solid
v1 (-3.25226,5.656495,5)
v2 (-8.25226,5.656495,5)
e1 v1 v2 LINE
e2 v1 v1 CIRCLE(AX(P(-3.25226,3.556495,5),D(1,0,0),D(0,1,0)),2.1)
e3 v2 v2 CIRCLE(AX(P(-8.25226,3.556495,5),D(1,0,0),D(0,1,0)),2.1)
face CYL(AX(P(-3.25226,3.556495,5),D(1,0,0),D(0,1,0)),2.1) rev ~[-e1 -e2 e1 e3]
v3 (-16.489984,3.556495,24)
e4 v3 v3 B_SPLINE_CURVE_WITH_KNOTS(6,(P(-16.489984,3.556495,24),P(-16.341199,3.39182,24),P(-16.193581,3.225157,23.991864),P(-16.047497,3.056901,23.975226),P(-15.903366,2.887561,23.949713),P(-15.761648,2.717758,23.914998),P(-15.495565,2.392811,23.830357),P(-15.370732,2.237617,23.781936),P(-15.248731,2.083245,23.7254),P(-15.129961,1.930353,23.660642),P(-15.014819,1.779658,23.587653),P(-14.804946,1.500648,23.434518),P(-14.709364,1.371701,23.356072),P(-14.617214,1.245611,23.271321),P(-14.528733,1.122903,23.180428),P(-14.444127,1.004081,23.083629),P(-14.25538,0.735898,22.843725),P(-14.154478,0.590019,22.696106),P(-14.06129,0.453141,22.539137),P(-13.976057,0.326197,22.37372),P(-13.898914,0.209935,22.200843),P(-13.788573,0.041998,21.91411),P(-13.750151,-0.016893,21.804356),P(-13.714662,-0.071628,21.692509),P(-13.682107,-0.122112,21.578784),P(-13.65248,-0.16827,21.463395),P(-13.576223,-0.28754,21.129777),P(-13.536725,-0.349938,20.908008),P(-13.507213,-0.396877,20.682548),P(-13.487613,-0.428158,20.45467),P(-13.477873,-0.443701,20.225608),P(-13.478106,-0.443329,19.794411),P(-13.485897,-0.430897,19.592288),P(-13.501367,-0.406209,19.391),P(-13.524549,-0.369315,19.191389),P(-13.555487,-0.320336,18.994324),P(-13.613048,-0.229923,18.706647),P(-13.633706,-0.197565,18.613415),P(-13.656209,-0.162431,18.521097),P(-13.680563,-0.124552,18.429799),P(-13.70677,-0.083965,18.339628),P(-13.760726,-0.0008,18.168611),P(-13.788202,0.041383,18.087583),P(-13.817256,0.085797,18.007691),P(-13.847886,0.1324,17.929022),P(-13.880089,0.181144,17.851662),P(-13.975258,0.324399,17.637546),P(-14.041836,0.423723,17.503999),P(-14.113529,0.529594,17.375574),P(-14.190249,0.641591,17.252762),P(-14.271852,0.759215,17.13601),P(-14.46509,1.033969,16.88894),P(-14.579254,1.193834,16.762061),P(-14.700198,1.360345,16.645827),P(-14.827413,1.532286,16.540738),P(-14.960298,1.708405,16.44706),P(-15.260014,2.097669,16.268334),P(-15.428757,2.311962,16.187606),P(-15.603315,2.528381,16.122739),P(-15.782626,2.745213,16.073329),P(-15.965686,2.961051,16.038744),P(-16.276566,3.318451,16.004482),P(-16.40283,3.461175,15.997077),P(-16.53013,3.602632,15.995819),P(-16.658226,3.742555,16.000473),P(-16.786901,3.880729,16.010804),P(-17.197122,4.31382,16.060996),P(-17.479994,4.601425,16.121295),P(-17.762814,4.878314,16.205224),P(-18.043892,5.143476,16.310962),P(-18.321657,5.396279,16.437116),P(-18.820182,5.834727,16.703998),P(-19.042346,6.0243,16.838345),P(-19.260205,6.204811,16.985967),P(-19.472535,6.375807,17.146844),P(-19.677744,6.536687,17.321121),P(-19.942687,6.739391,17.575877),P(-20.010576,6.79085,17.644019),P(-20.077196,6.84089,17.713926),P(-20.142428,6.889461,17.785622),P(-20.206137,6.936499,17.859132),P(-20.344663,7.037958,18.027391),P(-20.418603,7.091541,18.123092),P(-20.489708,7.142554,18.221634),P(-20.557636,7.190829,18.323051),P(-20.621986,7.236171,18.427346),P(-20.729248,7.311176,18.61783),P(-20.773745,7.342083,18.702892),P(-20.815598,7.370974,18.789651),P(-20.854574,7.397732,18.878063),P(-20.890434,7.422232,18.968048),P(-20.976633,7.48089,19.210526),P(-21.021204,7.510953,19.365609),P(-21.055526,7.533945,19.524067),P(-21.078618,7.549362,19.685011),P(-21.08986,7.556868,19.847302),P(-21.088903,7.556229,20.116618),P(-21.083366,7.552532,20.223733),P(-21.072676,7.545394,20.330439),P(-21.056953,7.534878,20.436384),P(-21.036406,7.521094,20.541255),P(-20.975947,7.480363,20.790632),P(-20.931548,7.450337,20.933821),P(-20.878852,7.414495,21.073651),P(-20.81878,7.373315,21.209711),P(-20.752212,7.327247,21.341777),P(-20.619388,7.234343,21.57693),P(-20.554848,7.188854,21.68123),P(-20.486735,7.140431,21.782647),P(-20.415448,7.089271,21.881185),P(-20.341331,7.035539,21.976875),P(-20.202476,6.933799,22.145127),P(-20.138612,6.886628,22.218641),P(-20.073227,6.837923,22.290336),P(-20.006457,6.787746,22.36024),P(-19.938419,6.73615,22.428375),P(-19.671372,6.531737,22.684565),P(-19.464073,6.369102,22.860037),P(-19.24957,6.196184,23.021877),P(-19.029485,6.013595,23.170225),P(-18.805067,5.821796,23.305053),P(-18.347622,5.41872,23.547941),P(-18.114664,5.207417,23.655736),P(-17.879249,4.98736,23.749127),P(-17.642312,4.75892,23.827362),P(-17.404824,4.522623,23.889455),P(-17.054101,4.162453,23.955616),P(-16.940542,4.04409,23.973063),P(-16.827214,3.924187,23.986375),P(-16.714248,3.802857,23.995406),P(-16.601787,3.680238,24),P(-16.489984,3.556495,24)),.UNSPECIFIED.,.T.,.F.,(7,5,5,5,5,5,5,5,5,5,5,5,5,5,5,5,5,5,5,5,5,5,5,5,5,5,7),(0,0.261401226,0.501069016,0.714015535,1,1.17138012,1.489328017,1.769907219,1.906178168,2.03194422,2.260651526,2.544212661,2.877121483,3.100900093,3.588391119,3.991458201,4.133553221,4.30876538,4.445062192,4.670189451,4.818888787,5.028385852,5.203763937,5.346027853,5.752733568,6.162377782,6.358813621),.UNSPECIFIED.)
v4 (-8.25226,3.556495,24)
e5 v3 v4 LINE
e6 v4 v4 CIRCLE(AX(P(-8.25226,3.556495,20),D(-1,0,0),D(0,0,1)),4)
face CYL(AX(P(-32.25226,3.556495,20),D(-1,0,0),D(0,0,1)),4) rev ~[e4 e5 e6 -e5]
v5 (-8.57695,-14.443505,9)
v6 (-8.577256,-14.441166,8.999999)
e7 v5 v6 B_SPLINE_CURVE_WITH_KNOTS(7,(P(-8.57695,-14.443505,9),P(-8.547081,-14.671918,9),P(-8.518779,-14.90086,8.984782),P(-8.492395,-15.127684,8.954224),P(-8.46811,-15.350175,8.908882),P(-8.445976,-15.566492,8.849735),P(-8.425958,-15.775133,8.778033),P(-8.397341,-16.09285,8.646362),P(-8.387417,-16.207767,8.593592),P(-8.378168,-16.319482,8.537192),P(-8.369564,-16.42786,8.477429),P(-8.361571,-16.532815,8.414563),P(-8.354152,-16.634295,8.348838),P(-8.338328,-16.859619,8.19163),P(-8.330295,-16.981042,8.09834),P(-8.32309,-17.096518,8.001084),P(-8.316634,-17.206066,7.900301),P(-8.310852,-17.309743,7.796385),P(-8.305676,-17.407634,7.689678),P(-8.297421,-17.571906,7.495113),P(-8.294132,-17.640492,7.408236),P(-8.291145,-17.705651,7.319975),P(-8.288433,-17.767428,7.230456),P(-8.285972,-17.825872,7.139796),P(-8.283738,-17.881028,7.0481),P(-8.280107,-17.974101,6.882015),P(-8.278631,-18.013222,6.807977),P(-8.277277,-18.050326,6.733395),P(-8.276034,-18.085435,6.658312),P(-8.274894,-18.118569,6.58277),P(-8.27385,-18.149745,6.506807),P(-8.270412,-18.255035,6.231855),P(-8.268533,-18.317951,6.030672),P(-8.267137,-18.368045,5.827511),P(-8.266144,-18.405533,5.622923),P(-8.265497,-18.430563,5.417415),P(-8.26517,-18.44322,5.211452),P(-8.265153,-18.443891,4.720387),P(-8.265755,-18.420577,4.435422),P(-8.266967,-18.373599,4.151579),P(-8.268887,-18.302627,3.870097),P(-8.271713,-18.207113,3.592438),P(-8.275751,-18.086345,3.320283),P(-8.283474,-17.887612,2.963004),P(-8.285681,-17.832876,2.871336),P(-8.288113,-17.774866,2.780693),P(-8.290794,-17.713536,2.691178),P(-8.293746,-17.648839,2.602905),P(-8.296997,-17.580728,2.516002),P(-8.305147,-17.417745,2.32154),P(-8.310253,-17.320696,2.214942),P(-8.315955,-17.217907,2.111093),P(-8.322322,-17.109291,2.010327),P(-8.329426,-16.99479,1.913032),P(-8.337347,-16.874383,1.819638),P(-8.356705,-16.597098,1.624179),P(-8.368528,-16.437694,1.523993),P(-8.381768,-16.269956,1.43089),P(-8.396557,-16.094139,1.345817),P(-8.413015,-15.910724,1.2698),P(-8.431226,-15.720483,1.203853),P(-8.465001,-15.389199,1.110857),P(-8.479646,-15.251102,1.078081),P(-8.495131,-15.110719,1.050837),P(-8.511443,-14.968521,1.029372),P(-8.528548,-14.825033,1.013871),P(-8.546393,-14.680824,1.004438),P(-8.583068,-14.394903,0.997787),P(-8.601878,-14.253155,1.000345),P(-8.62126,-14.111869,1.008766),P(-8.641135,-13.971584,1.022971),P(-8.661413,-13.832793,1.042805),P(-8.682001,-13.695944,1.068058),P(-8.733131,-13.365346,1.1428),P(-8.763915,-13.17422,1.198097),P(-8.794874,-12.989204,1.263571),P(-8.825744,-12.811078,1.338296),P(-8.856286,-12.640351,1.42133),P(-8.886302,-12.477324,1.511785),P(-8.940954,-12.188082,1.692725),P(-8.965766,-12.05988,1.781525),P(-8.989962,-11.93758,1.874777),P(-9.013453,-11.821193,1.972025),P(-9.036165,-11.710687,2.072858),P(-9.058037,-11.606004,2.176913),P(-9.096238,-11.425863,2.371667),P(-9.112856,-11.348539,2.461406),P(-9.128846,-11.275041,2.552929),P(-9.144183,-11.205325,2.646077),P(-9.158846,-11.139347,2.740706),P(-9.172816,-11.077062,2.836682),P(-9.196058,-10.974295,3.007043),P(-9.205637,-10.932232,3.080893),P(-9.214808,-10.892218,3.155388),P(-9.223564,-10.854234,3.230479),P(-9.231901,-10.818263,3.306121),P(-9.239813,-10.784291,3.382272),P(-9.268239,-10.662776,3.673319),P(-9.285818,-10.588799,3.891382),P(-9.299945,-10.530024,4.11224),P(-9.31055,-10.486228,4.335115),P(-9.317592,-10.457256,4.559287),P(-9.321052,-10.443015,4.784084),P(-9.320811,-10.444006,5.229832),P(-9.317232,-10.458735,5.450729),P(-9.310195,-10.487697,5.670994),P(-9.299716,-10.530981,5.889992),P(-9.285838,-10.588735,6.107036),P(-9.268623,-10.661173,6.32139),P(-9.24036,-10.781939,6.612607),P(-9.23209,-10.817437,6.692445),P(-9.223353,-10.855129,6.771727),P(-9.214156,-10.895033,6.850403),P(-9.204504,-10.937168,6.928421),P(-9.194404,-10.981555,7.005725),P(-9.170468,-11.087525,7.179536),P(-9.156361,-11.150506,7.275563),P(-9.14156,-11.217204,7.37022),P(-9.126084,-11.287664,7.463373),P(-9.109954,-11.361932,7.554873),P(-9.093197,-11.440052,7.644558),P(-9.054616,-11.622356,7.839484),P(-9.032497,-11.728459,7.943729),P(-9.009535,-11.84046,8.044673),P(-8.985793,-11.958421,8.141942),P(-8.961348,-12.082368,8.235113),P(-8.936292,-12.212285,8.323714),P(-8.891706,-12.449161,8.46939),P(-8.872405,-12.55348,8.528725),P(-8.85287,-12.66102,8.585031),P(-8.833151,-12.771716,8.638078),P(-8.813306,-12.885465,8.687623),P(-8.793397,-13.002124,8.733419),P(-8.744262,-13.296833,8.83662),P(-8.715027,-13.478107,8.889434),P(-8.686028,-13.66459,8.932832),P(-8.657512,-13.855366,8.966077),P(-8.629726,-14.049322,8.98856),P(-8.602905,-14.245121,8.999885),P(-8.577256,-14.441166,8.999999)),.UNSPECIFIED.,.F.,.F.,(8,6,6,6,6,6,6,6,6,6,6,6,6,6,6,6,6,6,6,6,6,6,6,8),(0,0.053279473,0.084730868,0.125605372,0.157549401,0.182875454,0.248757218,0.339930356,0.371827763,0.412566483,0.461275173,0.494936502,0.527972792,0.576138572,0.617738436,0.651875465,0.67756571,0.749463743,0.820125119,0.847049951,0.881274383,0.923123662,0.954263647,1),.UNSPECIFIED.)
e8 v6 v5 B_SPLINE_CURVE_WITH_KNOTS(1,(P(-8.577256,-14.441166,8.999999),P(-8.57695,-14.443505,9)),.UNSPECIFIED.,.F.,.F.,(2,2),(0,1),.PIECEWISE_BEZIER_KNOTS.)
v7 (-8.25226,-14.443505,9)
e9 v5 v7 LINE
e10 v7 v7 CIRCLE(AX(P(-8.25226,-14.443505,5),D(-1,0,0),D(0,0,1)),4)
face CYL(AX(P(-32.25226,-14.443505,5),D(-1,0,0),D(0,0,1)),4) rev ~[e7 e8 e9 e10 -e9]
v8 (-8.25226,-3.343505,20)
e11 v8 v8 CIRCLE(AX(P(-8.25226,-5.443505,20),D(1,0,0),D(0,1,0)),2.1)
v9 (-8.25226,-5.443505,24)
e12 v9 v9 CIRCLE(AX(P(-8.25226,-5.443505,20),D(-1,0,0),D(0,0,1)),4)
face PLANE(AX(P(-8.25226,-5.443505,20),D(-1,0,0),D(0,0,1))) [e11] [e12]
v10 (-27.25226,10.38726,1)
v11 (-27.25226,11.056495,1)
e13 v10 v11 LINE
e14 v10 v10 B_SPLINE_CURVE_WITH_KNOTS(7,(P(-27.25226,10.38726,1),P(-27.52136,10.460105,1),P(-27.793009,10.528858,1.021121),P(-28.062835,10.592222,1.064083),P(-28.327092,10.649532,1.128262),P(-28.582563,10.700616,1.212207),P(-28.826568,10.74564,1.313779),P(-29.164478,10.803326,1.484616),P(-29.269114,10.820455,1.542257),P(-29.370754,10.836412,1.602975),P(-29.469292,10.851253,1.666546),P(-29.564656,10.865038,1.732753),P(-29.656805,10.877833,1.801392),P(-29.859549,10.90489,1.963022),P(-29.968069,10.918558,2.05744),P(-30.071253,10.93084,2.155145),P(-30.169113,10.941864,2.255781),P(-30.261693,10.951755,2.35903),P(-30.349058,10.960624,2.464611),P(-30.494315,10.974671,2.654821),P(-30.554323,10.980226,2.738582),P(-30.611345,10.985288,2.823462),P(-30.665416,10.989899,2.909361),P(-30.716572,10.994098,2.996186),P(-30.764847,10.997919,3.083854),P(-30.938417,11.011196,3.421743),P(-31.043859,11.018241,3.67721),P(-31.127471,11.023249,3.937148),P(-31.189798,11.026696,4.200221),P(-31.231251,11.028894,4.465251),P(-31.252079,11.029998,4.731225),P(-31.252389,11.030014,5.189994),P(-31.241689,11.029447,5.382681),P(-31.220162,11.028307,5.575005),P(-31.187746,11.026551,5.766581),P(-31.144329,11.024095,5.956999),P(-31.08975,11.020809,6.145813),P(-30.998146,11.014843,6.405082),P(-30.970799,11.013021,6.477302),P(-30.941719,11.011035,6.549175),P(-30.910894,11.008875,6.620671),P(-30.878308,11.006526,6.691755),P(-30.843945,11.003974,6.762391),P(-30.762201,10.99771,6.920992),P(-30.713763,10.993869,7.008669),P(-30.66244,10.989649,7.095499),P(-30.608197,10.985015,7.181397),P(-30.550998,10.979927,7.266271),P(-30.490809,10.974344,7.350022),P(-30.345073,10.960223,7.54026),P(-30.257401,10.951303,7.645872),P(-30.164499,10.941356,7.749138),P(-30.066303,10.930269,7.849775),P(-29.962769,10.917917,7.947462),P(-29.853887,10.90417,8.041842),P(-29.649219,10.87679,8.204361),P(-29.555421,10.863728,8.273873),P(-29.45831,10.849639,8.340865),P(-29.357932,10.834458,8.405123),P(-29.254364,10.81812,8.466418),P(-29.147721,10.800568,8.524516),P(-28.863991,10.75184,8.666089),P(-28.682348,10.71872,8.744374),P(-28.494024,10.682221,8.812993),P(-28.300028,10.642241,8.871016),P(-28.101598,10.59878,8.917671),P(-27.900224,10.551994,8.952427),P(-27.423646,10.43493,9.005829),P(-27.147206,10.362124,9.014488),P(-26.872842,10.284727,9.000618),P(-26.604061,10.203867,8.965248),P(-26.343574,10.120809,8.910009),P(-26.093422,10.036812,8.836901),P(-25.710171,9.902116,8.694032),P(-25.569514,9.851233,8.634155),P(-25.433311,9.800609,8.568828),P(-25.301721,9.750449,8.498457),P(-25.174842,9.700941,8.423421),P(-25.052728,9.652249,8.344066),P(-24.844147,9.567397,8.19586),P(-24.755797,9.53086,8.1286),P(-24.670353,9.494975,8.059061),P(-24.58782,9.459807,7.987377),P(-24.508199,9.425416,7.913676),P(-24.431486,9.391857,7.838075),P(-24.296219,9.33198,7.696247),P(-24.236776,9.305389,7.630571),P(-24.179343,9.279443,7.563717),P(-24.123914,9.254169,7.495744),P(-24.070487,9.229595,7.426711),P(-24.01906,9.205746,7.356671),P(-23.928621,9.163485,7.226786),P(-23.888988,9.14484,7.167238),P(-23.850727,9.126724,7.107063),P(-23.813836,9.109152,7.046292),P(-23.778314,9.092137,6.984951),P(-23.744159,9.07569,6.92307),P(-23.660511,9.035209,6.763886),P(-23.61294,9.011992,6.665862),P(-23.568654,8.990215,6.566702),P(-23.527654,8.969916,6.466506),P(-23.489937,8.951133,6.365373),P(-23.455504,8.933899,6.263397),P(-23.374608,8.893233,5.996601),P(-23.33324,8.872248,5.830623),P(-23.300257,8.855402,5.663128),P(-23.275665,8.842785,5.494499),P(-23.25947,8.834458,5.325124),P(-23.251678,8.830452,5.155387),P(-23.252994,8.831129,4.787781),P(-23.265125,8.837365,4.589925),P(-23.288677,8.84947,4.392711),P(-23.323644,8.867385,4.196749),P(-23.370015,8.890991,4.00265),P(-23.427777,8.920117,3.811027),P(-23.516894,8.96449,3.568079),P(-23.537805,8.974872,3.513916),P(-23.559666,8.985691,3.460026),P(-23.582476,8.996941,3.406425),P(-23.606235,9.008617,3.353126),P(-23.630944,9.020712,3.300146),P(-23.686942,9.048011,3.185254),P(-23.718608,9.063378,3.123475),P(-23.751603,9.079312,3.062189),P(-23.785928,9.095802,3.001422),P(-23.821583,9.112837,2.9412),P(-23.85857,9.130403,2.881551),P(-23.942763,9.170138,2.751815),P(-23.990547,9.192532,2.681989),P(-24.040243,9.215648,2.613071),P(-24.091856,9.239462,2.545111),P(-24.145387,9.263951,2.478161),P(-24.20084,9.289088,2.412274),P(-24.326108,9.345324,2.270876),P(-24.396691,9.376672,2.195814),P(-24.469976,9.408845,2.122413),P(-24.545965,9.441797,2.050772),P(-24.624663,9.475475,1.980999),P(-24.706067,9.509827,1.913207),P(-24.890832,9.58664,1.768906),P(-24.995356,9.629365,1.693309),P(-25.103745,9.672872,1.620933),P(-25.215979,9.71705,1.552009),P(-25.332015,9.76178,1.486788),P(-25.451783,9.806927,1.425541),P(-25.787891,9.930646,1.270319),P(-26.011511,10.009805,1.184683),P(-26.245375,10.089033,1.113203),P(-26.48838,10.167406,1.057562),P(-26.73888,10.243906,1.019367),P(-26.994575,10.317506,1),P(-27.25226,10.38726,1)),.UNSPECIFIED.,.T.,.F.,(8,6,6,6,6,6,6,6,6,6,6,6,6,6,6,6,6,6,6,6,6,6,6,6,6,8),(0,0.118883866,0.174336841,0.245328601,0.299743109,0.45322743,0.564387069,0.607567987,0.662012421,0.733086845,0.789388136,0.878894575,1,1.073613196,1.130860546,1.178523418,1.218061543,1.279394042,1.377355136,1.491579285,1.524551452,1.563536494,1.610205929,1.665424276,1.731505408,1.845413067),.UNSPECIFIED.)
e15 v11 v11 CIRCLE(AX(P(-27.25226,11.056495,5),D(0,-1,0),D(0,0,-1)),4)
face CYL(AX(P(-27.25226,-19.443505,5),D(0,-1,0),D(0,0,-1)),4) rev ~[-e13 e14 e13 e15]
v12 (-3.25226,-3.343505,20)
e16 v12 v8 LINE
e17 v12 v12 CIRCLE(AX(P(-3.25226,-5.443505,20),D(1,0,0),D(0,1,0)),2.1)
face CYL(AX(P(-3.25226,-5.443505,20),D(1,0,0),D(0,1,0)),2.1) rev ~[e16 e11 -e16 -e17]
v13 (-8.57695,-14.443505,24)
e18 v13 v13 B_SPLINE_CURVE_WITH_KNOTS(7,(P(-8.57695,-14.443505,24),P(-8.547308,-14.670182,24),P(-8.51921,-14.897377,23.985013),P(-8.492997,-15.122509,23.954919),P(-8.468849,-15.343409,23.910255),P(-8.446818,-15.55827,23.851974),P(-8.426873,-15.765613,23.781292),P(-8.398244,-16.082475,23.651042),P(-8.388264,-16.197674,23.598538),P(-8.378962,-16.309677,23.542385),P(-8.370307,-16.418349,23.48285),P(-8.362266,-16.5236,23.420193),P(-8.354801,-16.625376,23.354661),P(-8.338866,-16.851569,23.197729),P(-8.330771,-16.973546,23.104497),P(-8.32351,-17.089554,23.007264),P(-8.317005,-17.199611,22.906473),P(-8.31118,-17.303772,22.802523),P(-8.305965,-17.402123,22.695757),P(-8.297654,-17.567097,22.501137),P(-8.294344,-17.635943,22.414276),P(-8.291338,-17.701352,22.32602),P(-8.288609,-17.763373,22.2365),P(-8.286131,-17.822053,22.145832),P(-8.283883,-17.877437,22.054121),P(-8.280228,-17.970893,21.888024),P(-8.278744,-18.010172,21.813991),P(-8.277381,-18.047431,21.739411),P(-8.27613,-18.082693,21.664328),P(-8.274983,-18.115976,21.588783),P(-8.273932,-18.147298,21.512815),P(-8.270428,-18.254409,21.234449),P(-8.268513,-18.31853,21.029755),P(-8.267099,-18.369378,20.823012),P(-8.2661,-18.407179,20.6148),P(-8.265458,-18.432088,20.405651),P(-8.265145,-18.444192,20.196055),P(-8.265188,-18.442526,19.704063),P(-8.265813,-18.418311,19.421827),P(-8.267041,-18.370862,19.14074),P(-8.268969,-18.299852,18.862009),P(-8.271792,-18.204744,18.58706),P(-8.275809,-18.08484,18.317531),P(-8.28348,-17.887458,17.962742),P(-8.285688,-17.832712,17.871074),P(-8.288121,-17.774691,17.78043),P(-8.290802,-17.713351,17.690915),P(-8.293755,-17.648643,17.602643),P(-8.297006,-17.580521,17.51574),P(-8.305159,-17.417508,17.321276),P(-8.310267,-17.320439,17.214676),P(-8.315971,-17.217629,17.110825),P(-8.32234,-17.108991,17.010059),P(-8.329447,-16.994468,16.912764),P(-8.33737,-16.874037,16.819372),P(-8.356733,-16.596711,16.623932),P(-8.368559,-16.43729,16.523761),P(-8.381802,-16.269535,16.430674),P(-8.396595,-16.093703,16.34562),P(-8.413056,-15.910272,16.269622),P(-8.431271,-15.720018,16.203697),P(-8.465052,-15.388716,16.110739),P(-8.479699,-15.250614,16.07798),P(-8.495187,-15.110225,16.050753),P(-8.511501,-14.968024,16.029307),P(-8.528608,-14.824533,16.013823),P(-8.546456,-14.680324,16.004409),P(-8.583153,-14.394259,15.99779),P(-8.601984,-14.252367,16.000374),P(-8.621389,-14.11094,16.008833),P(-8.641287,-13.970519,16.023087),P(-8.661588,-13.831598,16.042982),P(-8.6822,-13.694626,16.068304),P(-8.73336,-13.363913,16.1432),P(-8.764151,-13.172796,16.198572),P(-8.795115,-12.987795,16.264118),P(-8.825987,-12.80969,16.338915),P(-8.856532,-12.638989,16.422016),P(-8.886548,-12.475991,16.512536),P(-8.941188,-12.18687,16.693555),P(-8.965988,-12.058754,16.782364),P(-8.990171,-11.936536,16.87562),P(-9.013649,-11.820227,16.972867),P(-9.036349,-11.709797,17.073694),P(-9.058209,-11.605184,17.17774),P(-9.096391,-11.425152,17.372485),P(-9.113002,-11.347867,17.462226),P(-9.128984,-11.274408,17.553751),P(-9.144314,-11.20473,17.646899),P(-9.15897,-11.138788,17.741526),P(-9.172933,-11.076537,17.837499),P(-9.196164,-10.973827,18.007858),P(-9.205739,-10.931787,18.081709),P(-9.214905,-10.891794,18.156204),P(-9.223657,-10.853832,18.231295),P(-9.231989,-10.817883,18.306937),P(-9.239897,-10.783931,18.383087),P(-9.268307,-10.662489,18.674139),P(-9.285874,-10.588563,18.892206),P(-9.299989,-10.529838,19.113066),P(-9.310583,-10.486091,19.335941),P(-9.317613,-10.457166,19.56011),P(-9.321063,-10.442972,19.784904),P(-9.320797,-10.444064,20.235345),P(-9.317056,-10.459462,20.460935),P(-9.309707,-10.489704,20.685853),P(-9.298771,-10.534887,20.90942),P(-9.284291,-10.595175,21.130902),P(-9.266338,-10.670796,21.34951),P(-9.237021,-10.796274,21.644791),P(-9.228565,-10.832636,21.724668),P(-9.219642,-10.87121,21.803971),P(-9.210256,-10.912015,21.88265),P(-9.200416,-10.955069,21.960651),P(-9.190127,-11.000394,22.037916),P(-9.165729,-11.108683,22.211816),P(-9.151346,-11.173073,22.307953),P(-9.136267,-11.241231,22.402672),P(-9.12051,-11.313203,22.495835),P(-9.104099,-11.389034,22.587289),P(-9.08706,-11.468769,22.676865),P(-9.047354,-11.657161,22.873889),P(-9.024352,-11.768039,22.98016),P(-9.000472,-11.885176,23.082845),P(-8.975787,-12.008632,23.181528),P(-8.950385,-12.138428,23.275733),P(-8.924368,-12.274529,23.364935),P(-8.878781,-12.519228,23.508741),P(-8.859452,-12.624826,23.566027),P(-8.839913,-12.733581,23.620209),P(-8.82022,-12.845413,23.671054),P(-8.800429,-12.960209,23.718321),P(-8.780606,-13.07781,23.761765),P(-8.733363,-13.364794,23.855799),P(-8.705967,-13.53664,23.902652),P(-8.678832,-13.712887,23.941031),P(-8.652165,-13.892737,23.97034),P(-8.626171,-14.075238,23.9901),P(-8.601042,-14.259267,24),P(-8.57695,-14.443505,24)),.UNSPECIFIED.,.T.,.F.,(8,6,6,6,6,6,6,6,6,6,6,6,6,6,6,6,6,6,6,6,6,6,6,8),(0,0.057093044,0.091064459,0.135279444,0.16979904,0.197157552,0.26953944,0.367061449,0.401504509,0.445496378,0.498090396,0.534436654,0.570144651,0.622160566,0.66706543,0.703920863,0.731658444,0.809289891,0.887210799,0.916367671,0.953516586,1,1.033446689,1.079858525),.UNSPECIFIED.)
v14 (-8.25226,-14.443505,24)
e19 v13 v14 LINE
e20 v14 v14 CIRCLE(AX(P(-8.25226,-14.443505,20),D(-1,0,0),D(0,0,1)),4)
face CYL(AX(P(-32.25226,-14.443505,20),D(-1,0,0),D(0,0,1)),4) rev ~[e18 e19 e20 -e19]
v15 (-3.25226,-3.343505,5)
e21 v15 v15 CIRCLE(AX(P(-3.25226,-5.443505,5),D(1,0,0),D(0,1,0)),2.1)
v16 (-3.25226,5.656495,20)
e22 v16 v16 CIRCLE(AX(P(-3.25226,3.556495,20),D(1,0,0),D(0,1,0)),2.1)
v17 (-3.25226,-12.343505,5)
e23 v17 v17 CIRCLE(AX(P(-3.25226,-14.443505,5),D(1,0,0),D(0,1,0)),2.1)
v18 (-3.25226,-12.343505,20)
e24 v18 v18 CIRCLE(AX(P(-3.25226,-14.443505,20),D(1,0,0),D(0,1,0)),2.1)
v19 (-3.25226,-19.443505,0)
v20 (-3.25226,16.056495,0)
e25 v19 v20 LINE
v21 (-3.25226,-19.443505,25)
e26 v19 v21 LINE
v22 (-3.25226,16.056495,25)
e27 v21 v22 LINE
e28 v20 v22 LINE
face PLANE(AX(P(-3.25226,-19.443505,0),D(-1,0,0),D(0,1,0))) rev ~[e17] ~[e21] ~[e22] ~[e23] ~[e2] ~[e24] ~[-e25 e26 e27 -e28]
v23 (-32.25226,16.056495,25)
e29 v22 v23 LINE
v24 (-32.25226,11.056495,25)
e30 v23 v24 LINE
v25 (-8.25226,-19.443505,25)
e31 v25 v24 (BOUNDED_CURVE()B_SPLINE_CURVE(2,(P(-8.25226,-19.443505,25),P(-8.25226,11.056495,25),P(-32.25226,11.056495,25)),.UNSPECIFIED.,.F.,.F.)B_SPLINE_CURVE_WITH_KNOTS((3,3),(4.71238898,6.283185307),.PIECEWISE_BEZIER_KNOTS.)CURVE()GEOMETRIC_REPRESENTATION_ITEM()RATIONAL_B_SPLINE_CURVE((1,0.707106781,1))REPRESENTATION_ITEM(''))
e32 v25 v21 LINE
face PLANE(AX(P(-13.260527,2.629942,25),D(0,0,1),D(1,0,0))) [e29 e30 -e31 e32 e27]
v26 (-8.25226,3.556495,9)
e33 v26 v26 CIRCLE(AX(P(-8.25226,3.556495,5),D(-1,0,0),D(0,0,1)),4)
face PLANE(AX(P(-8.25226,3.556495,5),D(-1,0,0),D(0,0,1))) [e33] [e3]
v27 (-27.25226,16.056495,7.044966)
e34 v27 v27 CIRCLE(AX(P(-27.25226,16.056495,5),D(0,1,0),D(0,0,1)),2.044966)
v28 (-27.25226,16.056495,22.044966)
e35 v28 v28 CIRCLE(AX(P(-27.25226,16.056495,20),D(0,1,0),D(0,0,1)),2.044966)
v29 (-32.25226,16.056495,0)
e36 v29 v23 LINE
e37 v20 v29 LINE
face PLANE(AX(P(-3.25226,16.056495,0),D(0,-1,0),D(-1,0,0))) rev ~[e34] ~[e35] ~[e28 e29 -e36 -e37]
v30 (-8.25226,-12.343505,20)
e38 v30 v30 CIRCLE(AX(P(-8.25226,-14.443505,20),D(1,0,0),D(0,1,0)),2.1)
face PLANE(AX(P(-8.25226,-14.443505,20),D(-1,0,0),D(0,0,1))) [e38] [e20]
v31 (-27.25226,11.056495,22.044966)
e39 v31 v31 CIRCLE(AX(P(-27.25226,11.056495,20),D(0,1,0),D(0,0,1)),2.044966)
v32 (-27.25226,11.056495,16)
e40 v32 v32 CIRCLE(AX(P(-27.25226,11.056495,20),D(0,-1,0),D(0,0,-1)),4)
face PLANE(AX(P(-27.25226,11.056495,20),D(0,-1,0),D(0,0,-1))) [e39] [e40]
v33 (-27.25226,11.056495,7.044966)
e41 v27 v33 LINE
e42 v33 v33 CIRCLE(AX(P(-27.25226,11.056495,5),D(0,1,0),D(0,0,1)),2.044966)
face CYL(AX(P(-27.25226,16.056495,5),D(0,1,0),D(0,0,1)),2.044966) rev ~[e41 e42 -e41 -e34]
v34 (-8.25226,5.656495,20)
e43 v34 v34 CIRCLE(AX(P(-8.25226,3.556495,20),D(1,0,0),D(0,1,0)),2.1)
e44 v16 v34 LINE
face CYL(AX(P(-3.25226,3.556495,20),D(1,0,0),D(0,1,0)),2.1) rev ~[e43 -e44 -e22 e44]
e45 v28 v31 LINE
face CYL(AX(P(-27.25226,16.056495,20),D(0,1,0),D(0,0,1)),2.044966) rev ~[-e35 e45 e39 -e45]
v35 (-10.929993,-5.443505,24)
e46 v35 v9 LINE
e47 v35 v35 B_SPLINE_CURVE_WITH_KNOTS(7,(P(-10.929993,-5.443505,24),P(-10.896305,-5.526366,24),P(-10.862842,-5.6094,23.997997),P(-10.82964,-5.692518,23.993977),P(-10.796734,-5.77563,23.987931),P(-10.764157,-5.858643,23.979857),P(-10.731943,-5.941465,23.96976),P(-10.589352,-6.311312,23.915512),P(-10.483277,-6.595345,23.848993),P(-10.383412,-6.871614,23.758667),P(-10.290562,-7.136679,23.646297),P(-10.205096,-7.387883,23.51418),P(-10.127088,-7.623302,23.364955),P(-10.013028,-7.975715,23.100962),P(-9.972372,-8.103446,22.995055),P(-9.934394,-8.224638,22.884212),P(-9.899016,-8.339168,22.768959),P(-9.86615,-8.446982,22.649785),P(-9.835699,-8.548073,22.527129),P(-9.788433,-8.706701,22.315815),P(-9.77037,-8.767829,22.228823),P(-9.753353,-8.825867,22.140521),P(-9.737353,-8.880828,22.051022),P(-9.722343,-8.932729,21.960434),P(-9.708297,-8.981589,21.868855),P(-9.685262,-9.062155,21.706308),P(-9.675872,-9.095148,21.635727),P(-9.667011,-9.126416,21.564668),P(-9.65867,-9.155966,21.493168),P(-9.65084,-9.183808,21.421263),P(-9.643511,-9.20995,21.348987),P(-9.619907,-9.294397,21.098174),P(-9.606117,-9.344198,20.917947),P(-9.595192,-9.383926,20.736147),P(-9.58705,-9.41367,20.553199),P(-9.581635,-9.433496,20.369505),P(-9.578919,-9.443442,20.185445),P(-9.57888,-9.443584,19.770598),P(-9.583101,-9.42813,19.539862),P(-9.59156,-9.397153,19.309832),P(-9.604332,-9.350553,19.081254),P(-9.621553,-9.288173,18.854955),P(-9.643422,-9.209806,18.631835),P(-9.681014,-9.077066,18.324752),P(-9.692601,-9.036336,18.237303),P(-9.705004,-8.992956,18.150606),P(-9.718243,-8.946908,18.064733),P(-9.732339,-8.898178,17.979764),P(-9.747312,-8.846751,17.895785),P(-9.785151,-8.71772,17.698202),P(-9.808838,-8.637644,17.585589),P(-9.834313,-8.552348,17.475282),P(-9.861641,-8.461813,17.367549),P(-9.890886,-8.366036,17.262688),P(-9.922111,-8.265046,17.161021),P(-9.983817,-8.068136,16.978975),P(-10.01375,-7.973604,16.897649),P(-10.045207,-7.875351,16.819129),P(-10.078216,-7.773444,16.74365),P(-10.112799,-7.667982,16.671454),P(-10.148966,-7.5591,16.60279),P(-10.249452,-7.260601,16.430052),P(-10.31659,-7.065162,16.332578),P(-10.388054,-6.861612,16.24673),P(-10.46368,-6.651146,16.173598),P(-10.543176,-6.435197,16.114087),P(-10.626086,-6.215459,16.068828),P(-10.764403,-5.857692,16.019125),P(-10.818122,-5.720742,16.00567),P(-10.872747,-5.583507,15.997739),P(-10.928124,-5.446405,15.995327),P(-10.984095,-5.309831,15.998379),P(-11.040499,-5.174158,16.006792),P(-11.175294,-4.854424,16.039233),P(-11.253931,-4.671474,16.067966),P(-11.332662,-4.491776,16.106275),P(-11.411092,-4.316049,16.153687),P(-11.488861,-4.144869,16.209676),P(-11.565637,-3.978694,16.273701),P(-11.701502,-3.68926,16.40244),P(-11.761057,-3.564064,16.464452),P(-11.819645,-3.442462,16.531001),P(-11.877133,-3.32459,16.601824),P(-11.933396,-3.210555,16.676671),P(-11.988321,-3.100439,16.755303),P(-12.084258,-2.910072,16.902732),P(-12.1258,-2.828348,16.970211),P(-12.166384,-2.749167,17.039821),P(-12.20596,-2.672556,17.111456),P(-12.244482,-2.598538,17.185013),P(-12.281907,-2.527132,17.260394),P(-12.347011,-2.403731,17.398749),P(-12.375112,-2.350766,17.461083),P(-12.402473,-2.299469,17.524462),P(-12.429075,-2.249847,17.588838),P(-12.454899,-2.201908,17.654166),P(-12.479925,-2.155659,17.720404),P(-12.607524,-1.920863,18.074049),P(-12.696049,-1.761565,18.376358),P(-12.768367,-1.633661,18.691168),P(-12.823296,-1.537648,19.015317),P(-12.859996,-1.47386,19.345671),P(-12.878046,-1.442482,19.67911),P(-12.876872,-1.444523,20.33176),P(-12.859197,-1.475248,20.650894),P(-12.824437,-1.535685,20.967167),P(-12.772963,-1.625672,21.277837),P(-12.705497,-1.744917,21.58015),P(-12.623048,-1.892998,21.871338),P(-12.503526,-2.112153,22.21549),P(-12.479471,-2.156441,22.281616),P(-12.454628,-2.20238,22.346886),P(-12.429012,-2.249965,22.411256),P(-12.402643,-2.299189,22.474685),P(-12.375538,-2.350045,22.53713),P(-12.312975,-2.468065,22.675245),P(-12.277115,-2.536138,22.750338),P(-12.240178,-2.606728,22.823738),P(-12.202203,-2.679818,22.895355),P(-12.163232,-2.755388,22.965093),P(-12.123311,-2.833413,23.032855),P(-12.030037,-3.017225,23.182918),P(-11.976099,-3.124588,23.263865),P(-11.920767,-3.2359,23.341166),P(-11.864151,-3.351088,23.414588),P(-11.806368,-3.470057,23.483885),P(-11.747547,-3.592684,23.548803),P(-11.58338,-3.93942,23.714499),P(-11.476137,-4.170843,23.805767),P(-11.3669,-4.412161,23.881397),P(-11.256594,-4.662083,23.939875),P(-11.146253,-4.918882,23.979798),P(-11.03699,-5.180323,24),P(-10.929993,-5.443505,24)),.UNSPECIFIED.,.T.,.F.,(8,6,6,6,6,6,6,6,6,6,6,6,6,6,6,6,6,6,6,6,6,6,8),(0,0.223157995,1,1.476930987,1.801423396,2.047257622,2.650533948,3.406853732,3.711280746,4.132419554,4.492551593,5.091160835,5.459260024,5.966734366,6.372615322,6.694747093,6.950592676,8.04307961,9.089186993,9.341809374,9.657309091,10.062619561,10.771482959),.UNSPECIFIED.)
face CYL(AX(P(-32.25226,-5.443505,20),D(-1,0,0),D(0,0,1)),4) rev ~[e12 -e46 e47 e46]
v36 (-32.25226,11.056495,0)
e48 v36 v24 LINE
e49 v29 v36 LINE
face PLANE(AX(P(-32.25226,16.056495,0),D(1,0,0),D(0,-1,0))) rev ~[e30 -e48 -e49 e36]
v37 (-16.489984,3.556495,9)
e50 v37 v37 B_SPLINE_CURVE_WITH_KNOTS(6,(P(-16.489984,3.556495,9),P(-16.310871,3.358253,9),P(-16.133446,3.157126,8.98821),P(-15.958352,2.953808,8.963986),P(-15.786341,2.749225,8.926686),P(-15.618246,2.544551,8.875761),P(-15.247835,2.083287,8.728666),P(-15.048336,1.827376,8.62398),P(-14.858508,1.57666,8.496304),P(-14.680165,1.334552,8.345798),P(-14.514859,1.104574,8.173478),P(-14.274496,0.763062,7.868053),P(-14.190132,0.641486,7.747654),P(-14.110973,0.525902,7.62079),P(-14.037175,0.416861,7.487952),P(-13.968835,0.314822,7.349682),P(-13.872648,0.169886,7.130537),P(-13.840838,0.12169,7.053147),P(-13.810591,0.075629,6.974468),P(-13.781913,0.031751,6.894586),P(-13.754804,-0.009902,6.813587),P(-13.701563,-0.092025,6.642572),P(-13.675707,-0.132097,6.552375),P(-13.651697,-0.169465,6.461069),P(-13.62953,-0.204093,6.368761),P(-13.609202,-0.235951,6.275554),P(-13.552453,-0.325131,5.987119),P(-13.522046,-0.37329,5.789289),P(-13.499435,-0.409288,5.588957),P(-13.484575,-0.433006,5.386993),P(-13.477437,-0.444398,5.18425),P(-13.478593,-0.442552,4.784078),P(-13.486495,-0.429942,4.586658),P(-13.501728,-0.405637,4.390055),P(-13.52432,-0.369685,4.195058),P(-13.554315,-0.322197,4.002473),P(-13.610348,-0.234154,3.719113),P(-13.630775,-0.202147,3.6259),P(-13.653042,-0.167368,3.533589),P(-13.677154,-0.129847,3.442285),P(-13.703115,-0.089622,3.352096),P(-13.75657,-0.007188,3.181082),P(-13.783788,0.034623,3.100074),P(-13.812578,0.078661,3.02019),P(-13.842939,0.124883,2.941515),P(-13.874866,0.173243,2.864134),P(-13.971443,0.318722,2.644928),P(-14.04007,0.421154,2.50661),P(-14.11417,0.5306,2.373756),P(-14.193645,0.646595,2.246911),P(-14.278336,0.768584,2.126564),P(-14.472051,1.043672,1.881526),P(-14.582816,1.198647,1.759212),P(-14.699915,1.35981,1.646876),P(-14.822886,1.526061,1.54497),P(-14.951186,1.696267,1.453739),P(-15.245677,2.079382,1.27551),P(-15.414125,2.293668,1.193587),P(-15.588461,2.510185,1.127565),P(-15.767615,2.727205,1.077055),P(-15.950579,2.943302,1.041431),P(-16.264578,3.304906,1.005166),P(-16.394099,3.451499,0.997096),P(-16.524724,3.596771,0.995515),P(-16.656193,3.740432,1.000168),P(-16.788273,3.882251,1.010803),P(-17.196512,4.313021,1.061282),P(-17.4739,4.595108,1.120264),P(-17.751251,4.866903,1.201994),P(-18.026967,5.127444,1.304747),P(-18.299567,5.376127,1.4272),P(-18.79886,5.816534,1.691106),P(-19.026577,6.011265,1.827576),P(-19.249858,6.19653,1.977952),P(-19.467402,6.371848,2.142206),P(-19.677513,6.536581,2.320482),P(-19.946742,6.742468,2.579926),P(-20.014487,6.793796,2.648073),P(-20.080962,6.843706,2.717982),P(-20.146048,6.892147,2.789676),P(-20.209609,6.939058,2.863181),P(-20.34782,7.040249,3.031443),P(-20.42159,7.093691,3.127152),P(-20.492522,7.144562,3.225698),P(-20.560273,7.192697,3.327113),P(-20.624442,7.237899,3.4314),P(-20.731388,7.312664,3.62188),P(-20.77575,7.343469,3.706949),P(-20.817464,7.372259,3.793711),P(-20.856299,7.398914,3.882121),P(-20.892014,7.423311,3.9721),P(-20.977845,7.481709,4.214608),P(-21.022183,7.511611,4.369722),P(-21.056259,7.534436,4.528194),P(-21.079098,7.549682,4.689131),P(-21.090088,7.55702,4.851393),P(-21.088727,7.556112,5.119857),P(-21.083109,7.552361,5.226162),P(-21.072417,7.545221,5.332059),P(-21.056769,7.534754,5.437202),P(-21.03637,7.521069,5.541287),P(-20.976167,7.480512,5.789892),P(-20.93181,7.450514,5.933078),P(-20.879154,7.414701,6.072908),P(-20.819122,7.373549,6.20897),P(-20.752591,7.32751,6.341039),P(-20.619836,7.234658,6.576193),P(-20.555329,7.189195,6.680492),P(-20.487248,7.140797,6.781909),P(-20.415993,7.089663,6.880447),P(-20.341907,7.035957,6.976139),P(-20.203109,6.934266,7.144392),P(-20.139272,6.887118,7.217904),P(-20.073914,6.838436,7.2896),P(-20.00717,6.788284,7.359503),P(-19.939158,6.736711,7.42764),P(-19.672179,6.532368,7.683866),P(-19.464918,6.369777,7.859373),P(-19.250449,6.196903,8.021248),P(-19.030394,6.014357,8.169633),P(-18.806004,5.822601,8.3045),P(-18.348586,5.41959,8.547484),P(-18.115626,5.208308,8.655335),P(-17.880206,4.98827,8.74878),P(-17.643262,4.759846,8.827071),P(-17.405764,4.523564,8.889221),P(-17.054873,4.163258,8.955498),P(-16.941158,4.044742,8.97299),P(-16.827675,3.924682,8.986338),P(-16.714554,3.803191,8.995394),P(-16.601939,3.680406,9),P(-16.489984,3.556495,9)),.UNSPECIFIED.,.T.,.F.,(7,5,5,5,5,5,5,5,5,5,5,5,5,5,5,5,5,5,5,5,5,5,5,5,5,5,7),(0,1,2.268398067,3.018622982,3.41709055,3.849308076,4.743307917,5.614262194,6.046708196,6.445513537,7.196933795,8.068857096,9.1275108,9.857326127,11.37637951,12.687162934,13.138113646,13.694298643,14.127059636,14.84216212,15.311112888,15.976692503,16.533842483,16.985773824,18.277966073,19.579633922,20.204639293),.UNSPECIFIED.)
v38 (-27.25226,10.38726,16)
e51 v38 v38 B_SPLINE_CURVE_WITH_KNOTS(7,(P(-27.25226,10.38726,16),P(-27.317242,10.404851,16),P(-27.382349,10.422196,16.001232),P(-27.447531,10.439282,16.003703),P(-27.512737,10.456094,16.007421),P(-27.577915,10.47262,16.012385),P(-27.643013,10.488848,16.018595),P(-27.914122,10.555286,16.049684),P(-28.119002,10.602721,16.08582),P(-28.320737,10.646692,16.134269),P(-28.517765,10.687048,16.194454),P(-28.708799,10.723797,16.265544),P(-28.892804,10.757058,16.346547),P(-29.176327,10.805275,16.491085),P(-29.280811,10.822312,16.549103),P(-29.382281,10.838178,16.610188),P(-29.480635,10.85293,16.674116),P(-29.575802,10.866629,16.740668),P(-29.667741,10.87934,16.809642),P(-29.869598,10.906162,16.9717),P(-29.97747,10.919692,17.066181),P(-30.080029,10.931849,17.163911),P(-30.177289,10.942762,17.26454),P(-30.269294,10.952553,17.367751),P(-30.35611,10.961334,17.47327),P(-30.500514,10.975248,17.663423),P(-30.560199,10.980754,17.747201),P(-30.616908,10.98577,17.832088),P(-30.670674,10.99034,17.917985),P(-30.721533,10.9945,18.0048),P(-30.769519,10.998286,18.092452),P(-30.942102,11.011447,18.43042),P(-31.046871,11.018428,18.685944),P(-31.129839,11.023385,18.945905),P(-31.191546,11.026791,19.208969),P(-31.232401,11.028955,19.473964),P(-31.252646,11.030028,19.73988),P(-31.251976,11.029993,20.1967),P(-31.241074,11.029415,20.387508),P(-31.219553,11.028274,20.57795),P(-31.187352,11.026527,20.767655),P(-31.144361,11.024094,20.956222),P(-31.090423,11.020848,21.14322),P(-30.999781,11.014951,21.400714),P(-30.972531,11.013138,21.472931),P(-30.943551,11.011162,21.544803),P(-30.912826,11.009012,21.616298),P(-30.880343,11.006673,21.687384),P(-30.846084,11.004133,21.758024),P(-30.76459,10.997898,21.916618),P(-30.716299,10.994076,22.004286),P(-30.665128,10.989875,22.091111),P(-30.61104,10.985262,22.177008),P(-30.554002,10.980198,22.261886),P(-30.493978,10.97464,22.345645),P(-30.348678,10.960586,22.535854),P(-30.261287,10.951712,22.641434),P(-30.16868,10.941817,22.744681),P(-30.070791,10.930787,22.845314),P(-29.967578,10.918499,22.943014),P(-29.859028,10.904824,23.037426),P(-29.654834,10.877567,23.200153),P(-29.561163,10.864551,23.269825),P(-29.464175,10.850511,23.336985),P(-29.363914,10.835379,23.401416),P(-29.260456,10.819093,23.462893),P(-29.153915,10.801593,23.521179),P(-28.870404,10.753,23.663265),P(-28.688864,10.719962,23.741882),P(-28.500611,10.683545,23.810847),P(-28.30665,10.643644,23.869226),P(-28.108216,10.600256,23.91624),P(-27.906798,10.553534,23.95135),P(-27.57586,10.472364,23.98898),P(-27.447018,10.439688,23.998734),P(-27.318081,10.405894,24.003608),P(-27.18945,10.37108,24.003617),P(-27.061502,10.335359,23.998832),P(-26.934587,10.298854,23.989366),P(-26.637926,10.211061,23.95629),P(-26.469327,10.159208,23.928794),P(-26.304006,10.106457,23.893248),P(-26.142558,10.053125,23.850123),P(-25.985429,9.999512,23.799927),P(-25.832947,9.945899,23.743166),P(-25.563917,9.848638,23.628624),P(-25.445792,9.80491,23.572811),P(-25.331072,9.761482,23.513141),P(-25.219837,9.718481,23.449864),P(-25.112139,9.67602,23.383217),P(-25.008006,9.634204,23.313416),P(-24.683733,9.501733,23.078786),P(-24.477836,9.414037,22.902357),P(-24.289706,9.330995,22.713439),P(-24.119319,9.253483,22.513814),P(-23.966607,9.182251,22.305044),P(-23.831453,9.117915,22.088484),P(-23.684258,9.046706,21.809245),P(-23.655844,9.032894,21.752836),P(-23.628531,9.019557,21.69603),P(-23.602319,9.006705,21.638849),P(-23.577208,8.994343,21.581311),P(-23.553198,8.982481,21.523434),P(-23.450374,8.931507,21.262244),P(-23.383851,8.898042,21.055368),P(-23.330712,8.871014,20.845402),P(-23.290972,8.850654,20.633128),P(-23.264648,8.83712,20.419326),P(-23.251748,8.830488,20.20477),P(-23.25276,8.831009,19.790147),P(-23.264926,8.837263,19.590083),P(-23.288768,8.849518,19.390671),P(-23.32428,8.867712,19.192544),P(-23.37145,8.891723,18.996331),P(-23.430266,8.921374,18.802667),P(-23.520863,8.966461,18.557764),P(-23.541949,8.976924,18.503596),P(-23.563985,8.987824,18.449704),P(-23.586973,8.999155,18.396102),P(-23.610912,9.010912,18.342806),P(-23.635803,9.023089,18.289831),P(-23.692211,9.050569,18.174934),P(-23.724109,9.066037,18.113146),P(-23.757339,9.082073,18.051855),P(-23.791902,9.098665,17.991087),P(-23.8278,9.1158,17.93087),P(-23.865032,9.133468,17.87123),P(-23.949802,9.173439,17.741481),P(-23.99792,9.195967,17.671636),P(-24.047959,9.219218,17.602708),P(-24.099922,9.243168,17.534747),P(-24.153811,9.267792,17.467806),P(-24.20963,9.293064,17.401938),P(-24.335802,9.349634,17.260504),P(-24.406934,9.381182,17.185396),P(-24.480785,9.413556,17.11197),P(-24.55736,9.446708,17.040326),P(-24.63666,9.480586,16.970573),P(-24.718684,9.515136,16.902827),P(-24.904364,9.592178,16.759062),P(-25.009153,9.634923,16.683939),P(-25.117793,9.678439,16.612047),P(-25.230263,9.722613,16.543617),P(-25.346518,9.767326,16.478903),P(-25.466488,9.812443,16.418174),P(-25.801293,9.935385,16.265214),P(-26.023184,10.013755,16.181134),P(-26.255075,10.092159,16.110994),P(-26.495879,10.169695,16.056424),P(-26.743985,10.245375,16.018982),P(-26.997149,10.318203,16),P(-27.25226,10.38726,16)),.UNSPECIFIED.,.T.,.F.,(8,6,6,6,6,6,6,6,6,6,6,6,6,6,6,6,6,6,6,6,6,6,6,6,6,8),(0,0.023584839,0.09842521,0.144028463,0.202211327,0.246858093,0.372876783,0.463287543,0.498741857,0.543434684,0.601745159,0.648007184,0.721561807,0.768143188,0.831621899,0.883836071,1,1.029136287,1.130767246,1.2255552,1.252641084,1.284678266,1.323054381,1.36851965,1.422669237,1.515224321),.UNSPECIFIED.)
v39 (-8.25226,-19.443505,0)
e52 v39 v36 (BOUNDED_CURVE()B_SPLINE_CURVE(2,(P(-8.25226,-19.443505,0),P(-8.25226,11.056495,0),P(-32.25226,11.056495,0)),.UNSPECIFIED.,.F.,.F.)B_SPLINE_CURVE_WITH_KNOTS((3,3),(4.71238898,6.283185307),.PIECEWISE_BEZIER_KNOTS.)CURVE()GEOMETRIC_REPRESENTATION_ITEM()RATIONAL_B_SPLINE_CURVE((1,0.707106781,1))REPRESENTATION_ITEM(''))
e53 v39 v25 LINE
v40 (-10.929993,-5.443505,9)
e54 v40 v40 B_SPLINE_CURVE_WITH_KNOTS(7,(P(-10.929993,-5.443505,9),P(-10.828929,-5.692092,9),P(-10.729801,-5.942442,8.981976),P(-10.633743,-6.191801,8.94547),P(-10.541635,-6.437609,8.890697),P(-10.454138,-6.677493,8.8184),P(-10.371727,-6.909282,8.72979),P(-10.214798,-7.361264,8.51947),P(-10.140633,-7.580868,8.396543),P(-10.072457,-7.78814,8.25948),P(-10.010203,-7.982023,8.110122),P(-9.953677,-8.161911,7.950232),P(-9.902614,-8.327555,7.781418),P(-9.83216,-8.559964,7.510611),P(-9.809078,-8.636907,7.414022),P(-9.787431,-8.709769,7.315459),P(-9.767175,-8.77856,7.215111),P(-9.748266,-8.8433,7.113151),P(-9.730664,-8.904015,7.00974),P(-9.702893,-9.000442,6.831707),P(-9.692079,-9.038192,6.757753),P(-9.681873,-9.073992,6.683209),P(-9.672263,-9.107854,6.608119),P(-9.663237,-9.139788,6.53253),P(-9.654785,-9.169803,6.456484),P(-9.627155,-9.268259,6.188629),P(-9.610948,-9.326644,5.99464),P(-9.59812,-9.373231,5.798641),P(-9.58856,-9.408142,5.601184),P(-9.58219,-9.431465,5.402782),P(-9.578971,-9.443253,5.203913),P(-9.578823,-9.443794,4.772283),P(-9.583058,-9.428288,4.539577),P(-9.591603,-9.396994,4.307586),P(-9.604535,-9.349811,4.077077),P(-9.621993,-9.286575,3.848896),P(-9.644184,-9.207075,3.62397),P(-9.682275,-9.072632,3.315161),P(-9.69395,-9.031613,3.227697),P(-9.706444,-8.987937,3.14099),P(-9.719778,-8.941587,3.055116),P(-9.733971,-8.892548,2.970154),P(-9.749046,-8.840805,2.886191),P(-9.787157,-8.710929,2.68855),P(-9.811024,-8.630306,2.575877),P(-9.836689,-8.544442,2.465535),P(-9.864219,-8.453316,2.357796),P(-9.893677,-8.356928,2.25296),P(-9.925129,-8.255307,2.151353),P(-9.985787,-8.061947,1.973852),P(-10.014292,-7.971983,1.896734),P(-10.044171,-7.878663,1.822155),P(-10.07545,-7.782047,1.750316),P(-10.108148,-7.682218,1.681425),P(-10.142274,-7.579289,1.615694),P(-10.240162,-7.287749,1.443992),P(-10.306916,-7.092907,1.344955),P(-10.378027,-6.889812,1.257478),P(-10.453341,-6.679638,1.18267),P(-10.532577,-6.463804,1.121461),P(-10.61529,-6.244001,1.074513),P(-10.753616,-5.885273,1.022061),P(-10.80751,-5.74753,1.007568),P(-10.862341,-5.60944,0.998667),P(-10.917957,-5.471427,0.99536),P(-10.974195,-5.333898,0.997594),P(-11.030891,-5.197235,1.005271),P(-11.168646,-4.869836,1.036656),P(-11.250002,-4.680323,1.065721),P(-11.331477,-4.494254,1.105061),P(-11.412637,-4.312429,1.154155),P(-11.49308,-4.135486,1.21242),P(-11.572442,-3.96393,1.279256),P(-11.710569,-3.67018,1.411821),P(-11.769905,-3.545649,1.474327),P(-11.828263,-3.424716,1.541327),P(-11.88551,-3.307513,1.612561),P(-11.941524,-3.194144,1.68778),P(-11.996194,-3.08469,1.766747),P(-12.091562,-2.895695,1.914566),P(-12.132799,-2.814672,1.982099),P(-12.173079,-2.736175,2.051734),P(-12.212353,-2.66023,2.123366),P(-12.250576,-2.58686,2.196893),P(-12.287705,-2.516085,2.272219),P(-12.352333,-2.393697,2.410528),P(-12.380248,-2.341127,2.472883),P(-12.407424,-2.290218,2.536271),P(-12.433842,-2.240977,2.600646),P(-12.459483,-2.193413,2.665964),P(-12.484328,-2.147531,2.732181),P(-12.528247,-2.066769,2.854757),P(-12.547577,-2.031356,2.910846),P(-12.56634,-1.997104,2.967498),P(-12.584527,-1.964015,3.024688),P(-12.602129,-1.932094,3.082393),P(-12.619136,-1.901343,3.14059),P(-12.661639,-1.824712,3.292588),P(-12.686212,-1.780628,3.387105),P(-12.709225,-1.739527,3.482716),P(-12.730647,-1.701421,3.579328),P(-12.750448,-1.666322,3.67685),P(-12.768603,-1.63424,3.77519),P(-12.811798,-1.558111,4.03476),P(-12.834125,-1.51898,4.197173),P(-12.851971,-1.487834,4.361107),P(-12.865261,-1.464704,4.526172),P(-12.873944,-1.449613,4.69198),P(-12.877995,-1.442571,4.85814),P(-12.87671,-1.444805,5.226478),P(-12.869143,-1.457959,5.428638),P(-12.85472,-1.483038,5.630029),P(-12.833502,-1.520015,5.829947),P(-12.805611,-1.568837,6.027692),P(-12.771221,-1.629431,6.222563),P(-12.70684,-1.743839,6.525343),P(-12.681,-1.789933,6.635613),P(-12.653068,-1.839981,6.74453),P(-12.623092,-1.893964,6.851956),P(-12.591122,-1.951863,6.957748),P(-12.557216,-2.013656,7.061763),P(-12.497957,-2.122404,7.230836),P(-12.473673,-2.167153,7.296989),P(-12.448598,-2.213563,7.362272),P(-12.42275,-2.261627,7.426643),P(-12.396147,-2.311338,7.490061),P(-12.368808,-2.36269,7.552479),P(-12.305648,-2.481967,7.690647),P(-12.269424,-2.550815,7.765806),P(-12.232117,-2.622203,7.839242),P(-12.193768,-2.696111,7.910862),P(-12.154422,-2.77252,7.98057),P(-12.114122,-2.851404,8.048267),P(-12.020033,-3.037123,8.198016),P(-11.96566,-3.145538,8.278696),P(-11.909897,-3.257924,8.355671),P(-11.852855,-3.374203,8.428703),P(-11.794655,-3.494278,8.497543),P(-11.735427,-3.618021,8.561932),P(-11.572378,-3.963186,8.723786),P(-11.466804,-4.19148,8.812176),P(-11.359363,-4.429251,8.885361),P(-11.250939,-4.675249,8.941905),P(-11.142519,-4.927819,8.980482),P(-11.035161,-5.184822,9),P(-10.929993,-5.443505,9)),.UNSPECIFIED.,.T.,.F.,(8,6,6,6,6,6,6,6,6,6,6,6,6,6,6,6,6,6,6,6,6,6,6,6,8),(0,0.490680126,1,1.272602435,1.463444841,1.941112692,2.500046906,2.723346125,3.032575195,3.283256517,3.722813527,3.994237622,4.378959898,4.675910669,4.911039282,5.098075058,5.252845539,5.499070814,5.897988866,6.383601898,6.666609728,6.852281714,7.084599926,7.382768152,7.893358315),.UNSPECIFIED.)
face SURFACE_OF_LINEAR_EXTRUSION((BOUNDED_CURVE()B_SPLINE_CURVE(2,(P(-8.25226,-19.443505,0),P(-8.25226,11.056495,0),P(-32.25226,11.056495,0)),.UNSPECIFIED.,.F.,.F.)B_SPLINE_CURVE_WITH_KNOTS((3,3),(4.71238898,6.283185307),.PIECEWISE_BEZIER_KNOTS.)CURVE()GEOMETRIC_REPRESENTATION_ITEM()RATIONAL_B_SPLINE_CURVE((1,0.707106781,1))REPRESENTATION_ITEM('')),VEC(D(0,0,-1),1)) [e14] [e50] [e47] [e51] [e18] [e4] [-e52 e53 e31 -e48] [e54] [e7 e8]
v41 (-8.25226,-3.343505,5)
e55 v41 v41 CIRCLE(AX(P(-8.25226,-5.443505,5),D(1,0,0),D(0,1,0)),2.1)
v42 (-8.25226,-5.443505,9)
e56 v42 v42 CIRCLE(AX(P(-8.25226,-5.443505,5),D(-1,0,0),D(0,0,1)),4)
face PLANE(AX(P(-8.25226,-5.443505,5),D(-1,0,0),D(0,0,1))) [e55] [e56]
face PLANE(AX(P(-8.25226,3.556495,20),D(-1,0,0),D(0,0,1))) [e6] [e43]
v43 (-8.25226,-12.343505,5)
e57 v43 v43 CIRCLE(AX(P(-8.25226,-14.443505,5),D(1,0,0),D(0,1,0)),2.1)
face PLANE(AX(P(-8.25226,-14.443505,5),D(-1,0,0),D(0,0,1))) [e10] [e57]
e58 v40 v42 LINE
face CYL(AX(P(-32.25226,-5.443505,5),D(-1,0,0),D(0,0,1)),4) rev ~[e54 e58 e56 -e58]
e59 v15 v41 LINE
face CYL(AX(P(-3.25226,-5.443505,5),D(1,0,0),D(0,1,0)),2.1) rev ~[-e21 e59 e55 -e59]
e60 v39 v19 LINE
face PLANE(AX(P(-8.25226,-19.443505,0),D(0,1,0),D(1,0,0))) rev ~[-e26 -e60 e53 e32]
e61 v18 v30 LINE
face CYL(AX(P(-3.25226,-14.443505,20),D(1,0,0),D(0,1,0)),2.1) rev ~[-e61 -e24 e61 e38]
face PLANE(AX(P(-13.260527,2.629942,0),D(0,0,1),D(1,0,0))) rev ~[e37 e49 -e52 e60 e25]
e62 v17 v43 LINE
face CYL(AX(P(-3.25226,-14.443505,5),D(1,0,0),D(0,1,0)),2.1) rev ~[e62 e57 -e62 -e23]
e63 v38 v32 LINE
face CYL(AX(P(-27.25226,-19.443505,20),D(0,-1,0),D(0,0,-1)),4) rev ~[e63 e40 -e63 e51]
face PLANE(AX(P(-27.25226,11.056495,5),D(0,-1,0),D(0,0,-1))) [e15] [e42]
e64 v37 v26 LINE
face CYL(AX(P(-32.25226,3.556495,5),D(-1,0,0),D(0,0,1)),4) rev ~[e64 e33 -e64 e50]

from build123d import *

# Parameters (mm, degrees)
EXTRUDE_1_DEPTH     = 25
SKETCH_2_R          = 2.1
CUT_EXTRUDE_1_DEPTH = 25
SKETCH_4_R          = 4
CUT_EXTRUDE_2_DEPTH = 24
SKETCH_5_R          = 2.044965575
CUT_EXTRUDE_3_DEPTH = 24
SKETCH_6_R          = 4
CUT_EXTRUDE_4_DEPTH = 30.5


with BuildPart() as part:
    # 草圖1 → 填料-伸長1 (new body)
    with BuildSketch(Plane.XY):
        with BuildLine():
            Line((-3.252259835, 16.056494785), (-32.252259835, 16.056494785))
            Line((-32.252259835, 16.056494785), (-32.252259835, 11.056494785))
            add(Edge.make_bspline(
                [(-8.252259835, -19.443505215), (-8.252259835, 11.056494785), (-32.252259835, 11.056494785)],
                knots=[4.71238898, 4.71238898, 4.71238898, 6.283185307, 6.283185307, 6.283185307], degree=2, weights=[1, 0.707106781, 1]))
            Line((-8.252259835, -19.443505215), (-3.252259835, -19.443505215))
            Line((-3.252259835, -19.443505215), (-3.252259835, 16.056494785))
        make_face()
    extrude(amount=EXTRUDE_1_DEPTH)

    # 草圖2 → 除料-伸長1 (cut)
    with BuildSketch(Plane(origin=(-3.252259835, 0, 0), x_dir=(0, 0, -1), z_dir=(1, 0, 0))):
        with Locations(Location((-20, -14.443505215, 0), (0, 0, 90))):
            Circle(SKETCH_2_R)
        with Locations(Location((-5, -14.443505215, 0), (0, 0, 90))):
            Circle(SKETCH_2_R)
        with Locations(Location((-5, -5.443505215, 0), (0, 0, 90))):
            Circle(SKETCH_2_R)
        with Locations(Location((-5, 3.556494785, 0), (0, 0, 90))):
            Circle(SKETCH_2_R)
        with Locations(Location((-20, -5.443505215, 0), (0, 0, 90))):
            Circle(SKETCH_2_R)
        with Locations(Location((-20, 3.556494785, 0), (0, 0, 90))):
            Circle(SKETCH_2_R)
    extrude(amount=-CUT_EXTRUDE_1_DEPTH, mode=Mode.SUBTRACT)

    # 草圖4 → 除料-伸長2 (cut)
    with BuildSketch(Plane.ZY.offset(32.252259835)):
        with Locations((5, 3.556494785)):
            Circle(SKETCH_4_R)
        with Locations((20, 3.556494785)):
            Circle(SKETCH_4_R)
        with Locations((20, -5.443505215)):
            Circle(SKETCH_4_R)
        with Locations((20, -14.443505215)):
            Circle(SKETCH_4_R)
        with Locations((5, -5.443505215)):
            Circle(SKETCH_4_R)
        with Locations((5, -14.443505215)):
            Circle(SKETCH_4_R)
    extrude(amount=-CUT_EXTRUDE_2_DEPTH, mode=Mode.SUBTRACT)

    # 草圖5 → 除料-伸長3 (cut)
    with BuildSketch(Plane(origin=(0, 16.056494785, 0), x_dir=(1, 0, 0), z_dir=(0, 1, 0))):
        with Locations(Location((-27.252259835, -5, 0), (0, 0, 270))):
            Circle(SKETCH_5_R)
        with Locations(Location((-27.252259835, -20, 0), (0, 0, 270))):
            Circle(SKETCH_5_R)
    extrude(amount=-CUT_EXTRUDE_3_DEPTH, mode=Mode.SUBTRACT)

    # 草圖6 → 除料-伸長4 (cut)
    with BuildSketch(Plane.XZ.offset(19.443505215)):
        with Locations(Location((-27.252259835, 5, 0), (0, 0, 270))):
            Circle(SKETCH_6_R)
        with Locations(Location((-27.252259835, 20, 0), (0, 0, 270))):
            Circle(SKETCH_6_R)
    extrude(amount=-CUT_EXTRUDE_4_DEPTH, mode=Mode.SUBTRACT)


solid = part.part
